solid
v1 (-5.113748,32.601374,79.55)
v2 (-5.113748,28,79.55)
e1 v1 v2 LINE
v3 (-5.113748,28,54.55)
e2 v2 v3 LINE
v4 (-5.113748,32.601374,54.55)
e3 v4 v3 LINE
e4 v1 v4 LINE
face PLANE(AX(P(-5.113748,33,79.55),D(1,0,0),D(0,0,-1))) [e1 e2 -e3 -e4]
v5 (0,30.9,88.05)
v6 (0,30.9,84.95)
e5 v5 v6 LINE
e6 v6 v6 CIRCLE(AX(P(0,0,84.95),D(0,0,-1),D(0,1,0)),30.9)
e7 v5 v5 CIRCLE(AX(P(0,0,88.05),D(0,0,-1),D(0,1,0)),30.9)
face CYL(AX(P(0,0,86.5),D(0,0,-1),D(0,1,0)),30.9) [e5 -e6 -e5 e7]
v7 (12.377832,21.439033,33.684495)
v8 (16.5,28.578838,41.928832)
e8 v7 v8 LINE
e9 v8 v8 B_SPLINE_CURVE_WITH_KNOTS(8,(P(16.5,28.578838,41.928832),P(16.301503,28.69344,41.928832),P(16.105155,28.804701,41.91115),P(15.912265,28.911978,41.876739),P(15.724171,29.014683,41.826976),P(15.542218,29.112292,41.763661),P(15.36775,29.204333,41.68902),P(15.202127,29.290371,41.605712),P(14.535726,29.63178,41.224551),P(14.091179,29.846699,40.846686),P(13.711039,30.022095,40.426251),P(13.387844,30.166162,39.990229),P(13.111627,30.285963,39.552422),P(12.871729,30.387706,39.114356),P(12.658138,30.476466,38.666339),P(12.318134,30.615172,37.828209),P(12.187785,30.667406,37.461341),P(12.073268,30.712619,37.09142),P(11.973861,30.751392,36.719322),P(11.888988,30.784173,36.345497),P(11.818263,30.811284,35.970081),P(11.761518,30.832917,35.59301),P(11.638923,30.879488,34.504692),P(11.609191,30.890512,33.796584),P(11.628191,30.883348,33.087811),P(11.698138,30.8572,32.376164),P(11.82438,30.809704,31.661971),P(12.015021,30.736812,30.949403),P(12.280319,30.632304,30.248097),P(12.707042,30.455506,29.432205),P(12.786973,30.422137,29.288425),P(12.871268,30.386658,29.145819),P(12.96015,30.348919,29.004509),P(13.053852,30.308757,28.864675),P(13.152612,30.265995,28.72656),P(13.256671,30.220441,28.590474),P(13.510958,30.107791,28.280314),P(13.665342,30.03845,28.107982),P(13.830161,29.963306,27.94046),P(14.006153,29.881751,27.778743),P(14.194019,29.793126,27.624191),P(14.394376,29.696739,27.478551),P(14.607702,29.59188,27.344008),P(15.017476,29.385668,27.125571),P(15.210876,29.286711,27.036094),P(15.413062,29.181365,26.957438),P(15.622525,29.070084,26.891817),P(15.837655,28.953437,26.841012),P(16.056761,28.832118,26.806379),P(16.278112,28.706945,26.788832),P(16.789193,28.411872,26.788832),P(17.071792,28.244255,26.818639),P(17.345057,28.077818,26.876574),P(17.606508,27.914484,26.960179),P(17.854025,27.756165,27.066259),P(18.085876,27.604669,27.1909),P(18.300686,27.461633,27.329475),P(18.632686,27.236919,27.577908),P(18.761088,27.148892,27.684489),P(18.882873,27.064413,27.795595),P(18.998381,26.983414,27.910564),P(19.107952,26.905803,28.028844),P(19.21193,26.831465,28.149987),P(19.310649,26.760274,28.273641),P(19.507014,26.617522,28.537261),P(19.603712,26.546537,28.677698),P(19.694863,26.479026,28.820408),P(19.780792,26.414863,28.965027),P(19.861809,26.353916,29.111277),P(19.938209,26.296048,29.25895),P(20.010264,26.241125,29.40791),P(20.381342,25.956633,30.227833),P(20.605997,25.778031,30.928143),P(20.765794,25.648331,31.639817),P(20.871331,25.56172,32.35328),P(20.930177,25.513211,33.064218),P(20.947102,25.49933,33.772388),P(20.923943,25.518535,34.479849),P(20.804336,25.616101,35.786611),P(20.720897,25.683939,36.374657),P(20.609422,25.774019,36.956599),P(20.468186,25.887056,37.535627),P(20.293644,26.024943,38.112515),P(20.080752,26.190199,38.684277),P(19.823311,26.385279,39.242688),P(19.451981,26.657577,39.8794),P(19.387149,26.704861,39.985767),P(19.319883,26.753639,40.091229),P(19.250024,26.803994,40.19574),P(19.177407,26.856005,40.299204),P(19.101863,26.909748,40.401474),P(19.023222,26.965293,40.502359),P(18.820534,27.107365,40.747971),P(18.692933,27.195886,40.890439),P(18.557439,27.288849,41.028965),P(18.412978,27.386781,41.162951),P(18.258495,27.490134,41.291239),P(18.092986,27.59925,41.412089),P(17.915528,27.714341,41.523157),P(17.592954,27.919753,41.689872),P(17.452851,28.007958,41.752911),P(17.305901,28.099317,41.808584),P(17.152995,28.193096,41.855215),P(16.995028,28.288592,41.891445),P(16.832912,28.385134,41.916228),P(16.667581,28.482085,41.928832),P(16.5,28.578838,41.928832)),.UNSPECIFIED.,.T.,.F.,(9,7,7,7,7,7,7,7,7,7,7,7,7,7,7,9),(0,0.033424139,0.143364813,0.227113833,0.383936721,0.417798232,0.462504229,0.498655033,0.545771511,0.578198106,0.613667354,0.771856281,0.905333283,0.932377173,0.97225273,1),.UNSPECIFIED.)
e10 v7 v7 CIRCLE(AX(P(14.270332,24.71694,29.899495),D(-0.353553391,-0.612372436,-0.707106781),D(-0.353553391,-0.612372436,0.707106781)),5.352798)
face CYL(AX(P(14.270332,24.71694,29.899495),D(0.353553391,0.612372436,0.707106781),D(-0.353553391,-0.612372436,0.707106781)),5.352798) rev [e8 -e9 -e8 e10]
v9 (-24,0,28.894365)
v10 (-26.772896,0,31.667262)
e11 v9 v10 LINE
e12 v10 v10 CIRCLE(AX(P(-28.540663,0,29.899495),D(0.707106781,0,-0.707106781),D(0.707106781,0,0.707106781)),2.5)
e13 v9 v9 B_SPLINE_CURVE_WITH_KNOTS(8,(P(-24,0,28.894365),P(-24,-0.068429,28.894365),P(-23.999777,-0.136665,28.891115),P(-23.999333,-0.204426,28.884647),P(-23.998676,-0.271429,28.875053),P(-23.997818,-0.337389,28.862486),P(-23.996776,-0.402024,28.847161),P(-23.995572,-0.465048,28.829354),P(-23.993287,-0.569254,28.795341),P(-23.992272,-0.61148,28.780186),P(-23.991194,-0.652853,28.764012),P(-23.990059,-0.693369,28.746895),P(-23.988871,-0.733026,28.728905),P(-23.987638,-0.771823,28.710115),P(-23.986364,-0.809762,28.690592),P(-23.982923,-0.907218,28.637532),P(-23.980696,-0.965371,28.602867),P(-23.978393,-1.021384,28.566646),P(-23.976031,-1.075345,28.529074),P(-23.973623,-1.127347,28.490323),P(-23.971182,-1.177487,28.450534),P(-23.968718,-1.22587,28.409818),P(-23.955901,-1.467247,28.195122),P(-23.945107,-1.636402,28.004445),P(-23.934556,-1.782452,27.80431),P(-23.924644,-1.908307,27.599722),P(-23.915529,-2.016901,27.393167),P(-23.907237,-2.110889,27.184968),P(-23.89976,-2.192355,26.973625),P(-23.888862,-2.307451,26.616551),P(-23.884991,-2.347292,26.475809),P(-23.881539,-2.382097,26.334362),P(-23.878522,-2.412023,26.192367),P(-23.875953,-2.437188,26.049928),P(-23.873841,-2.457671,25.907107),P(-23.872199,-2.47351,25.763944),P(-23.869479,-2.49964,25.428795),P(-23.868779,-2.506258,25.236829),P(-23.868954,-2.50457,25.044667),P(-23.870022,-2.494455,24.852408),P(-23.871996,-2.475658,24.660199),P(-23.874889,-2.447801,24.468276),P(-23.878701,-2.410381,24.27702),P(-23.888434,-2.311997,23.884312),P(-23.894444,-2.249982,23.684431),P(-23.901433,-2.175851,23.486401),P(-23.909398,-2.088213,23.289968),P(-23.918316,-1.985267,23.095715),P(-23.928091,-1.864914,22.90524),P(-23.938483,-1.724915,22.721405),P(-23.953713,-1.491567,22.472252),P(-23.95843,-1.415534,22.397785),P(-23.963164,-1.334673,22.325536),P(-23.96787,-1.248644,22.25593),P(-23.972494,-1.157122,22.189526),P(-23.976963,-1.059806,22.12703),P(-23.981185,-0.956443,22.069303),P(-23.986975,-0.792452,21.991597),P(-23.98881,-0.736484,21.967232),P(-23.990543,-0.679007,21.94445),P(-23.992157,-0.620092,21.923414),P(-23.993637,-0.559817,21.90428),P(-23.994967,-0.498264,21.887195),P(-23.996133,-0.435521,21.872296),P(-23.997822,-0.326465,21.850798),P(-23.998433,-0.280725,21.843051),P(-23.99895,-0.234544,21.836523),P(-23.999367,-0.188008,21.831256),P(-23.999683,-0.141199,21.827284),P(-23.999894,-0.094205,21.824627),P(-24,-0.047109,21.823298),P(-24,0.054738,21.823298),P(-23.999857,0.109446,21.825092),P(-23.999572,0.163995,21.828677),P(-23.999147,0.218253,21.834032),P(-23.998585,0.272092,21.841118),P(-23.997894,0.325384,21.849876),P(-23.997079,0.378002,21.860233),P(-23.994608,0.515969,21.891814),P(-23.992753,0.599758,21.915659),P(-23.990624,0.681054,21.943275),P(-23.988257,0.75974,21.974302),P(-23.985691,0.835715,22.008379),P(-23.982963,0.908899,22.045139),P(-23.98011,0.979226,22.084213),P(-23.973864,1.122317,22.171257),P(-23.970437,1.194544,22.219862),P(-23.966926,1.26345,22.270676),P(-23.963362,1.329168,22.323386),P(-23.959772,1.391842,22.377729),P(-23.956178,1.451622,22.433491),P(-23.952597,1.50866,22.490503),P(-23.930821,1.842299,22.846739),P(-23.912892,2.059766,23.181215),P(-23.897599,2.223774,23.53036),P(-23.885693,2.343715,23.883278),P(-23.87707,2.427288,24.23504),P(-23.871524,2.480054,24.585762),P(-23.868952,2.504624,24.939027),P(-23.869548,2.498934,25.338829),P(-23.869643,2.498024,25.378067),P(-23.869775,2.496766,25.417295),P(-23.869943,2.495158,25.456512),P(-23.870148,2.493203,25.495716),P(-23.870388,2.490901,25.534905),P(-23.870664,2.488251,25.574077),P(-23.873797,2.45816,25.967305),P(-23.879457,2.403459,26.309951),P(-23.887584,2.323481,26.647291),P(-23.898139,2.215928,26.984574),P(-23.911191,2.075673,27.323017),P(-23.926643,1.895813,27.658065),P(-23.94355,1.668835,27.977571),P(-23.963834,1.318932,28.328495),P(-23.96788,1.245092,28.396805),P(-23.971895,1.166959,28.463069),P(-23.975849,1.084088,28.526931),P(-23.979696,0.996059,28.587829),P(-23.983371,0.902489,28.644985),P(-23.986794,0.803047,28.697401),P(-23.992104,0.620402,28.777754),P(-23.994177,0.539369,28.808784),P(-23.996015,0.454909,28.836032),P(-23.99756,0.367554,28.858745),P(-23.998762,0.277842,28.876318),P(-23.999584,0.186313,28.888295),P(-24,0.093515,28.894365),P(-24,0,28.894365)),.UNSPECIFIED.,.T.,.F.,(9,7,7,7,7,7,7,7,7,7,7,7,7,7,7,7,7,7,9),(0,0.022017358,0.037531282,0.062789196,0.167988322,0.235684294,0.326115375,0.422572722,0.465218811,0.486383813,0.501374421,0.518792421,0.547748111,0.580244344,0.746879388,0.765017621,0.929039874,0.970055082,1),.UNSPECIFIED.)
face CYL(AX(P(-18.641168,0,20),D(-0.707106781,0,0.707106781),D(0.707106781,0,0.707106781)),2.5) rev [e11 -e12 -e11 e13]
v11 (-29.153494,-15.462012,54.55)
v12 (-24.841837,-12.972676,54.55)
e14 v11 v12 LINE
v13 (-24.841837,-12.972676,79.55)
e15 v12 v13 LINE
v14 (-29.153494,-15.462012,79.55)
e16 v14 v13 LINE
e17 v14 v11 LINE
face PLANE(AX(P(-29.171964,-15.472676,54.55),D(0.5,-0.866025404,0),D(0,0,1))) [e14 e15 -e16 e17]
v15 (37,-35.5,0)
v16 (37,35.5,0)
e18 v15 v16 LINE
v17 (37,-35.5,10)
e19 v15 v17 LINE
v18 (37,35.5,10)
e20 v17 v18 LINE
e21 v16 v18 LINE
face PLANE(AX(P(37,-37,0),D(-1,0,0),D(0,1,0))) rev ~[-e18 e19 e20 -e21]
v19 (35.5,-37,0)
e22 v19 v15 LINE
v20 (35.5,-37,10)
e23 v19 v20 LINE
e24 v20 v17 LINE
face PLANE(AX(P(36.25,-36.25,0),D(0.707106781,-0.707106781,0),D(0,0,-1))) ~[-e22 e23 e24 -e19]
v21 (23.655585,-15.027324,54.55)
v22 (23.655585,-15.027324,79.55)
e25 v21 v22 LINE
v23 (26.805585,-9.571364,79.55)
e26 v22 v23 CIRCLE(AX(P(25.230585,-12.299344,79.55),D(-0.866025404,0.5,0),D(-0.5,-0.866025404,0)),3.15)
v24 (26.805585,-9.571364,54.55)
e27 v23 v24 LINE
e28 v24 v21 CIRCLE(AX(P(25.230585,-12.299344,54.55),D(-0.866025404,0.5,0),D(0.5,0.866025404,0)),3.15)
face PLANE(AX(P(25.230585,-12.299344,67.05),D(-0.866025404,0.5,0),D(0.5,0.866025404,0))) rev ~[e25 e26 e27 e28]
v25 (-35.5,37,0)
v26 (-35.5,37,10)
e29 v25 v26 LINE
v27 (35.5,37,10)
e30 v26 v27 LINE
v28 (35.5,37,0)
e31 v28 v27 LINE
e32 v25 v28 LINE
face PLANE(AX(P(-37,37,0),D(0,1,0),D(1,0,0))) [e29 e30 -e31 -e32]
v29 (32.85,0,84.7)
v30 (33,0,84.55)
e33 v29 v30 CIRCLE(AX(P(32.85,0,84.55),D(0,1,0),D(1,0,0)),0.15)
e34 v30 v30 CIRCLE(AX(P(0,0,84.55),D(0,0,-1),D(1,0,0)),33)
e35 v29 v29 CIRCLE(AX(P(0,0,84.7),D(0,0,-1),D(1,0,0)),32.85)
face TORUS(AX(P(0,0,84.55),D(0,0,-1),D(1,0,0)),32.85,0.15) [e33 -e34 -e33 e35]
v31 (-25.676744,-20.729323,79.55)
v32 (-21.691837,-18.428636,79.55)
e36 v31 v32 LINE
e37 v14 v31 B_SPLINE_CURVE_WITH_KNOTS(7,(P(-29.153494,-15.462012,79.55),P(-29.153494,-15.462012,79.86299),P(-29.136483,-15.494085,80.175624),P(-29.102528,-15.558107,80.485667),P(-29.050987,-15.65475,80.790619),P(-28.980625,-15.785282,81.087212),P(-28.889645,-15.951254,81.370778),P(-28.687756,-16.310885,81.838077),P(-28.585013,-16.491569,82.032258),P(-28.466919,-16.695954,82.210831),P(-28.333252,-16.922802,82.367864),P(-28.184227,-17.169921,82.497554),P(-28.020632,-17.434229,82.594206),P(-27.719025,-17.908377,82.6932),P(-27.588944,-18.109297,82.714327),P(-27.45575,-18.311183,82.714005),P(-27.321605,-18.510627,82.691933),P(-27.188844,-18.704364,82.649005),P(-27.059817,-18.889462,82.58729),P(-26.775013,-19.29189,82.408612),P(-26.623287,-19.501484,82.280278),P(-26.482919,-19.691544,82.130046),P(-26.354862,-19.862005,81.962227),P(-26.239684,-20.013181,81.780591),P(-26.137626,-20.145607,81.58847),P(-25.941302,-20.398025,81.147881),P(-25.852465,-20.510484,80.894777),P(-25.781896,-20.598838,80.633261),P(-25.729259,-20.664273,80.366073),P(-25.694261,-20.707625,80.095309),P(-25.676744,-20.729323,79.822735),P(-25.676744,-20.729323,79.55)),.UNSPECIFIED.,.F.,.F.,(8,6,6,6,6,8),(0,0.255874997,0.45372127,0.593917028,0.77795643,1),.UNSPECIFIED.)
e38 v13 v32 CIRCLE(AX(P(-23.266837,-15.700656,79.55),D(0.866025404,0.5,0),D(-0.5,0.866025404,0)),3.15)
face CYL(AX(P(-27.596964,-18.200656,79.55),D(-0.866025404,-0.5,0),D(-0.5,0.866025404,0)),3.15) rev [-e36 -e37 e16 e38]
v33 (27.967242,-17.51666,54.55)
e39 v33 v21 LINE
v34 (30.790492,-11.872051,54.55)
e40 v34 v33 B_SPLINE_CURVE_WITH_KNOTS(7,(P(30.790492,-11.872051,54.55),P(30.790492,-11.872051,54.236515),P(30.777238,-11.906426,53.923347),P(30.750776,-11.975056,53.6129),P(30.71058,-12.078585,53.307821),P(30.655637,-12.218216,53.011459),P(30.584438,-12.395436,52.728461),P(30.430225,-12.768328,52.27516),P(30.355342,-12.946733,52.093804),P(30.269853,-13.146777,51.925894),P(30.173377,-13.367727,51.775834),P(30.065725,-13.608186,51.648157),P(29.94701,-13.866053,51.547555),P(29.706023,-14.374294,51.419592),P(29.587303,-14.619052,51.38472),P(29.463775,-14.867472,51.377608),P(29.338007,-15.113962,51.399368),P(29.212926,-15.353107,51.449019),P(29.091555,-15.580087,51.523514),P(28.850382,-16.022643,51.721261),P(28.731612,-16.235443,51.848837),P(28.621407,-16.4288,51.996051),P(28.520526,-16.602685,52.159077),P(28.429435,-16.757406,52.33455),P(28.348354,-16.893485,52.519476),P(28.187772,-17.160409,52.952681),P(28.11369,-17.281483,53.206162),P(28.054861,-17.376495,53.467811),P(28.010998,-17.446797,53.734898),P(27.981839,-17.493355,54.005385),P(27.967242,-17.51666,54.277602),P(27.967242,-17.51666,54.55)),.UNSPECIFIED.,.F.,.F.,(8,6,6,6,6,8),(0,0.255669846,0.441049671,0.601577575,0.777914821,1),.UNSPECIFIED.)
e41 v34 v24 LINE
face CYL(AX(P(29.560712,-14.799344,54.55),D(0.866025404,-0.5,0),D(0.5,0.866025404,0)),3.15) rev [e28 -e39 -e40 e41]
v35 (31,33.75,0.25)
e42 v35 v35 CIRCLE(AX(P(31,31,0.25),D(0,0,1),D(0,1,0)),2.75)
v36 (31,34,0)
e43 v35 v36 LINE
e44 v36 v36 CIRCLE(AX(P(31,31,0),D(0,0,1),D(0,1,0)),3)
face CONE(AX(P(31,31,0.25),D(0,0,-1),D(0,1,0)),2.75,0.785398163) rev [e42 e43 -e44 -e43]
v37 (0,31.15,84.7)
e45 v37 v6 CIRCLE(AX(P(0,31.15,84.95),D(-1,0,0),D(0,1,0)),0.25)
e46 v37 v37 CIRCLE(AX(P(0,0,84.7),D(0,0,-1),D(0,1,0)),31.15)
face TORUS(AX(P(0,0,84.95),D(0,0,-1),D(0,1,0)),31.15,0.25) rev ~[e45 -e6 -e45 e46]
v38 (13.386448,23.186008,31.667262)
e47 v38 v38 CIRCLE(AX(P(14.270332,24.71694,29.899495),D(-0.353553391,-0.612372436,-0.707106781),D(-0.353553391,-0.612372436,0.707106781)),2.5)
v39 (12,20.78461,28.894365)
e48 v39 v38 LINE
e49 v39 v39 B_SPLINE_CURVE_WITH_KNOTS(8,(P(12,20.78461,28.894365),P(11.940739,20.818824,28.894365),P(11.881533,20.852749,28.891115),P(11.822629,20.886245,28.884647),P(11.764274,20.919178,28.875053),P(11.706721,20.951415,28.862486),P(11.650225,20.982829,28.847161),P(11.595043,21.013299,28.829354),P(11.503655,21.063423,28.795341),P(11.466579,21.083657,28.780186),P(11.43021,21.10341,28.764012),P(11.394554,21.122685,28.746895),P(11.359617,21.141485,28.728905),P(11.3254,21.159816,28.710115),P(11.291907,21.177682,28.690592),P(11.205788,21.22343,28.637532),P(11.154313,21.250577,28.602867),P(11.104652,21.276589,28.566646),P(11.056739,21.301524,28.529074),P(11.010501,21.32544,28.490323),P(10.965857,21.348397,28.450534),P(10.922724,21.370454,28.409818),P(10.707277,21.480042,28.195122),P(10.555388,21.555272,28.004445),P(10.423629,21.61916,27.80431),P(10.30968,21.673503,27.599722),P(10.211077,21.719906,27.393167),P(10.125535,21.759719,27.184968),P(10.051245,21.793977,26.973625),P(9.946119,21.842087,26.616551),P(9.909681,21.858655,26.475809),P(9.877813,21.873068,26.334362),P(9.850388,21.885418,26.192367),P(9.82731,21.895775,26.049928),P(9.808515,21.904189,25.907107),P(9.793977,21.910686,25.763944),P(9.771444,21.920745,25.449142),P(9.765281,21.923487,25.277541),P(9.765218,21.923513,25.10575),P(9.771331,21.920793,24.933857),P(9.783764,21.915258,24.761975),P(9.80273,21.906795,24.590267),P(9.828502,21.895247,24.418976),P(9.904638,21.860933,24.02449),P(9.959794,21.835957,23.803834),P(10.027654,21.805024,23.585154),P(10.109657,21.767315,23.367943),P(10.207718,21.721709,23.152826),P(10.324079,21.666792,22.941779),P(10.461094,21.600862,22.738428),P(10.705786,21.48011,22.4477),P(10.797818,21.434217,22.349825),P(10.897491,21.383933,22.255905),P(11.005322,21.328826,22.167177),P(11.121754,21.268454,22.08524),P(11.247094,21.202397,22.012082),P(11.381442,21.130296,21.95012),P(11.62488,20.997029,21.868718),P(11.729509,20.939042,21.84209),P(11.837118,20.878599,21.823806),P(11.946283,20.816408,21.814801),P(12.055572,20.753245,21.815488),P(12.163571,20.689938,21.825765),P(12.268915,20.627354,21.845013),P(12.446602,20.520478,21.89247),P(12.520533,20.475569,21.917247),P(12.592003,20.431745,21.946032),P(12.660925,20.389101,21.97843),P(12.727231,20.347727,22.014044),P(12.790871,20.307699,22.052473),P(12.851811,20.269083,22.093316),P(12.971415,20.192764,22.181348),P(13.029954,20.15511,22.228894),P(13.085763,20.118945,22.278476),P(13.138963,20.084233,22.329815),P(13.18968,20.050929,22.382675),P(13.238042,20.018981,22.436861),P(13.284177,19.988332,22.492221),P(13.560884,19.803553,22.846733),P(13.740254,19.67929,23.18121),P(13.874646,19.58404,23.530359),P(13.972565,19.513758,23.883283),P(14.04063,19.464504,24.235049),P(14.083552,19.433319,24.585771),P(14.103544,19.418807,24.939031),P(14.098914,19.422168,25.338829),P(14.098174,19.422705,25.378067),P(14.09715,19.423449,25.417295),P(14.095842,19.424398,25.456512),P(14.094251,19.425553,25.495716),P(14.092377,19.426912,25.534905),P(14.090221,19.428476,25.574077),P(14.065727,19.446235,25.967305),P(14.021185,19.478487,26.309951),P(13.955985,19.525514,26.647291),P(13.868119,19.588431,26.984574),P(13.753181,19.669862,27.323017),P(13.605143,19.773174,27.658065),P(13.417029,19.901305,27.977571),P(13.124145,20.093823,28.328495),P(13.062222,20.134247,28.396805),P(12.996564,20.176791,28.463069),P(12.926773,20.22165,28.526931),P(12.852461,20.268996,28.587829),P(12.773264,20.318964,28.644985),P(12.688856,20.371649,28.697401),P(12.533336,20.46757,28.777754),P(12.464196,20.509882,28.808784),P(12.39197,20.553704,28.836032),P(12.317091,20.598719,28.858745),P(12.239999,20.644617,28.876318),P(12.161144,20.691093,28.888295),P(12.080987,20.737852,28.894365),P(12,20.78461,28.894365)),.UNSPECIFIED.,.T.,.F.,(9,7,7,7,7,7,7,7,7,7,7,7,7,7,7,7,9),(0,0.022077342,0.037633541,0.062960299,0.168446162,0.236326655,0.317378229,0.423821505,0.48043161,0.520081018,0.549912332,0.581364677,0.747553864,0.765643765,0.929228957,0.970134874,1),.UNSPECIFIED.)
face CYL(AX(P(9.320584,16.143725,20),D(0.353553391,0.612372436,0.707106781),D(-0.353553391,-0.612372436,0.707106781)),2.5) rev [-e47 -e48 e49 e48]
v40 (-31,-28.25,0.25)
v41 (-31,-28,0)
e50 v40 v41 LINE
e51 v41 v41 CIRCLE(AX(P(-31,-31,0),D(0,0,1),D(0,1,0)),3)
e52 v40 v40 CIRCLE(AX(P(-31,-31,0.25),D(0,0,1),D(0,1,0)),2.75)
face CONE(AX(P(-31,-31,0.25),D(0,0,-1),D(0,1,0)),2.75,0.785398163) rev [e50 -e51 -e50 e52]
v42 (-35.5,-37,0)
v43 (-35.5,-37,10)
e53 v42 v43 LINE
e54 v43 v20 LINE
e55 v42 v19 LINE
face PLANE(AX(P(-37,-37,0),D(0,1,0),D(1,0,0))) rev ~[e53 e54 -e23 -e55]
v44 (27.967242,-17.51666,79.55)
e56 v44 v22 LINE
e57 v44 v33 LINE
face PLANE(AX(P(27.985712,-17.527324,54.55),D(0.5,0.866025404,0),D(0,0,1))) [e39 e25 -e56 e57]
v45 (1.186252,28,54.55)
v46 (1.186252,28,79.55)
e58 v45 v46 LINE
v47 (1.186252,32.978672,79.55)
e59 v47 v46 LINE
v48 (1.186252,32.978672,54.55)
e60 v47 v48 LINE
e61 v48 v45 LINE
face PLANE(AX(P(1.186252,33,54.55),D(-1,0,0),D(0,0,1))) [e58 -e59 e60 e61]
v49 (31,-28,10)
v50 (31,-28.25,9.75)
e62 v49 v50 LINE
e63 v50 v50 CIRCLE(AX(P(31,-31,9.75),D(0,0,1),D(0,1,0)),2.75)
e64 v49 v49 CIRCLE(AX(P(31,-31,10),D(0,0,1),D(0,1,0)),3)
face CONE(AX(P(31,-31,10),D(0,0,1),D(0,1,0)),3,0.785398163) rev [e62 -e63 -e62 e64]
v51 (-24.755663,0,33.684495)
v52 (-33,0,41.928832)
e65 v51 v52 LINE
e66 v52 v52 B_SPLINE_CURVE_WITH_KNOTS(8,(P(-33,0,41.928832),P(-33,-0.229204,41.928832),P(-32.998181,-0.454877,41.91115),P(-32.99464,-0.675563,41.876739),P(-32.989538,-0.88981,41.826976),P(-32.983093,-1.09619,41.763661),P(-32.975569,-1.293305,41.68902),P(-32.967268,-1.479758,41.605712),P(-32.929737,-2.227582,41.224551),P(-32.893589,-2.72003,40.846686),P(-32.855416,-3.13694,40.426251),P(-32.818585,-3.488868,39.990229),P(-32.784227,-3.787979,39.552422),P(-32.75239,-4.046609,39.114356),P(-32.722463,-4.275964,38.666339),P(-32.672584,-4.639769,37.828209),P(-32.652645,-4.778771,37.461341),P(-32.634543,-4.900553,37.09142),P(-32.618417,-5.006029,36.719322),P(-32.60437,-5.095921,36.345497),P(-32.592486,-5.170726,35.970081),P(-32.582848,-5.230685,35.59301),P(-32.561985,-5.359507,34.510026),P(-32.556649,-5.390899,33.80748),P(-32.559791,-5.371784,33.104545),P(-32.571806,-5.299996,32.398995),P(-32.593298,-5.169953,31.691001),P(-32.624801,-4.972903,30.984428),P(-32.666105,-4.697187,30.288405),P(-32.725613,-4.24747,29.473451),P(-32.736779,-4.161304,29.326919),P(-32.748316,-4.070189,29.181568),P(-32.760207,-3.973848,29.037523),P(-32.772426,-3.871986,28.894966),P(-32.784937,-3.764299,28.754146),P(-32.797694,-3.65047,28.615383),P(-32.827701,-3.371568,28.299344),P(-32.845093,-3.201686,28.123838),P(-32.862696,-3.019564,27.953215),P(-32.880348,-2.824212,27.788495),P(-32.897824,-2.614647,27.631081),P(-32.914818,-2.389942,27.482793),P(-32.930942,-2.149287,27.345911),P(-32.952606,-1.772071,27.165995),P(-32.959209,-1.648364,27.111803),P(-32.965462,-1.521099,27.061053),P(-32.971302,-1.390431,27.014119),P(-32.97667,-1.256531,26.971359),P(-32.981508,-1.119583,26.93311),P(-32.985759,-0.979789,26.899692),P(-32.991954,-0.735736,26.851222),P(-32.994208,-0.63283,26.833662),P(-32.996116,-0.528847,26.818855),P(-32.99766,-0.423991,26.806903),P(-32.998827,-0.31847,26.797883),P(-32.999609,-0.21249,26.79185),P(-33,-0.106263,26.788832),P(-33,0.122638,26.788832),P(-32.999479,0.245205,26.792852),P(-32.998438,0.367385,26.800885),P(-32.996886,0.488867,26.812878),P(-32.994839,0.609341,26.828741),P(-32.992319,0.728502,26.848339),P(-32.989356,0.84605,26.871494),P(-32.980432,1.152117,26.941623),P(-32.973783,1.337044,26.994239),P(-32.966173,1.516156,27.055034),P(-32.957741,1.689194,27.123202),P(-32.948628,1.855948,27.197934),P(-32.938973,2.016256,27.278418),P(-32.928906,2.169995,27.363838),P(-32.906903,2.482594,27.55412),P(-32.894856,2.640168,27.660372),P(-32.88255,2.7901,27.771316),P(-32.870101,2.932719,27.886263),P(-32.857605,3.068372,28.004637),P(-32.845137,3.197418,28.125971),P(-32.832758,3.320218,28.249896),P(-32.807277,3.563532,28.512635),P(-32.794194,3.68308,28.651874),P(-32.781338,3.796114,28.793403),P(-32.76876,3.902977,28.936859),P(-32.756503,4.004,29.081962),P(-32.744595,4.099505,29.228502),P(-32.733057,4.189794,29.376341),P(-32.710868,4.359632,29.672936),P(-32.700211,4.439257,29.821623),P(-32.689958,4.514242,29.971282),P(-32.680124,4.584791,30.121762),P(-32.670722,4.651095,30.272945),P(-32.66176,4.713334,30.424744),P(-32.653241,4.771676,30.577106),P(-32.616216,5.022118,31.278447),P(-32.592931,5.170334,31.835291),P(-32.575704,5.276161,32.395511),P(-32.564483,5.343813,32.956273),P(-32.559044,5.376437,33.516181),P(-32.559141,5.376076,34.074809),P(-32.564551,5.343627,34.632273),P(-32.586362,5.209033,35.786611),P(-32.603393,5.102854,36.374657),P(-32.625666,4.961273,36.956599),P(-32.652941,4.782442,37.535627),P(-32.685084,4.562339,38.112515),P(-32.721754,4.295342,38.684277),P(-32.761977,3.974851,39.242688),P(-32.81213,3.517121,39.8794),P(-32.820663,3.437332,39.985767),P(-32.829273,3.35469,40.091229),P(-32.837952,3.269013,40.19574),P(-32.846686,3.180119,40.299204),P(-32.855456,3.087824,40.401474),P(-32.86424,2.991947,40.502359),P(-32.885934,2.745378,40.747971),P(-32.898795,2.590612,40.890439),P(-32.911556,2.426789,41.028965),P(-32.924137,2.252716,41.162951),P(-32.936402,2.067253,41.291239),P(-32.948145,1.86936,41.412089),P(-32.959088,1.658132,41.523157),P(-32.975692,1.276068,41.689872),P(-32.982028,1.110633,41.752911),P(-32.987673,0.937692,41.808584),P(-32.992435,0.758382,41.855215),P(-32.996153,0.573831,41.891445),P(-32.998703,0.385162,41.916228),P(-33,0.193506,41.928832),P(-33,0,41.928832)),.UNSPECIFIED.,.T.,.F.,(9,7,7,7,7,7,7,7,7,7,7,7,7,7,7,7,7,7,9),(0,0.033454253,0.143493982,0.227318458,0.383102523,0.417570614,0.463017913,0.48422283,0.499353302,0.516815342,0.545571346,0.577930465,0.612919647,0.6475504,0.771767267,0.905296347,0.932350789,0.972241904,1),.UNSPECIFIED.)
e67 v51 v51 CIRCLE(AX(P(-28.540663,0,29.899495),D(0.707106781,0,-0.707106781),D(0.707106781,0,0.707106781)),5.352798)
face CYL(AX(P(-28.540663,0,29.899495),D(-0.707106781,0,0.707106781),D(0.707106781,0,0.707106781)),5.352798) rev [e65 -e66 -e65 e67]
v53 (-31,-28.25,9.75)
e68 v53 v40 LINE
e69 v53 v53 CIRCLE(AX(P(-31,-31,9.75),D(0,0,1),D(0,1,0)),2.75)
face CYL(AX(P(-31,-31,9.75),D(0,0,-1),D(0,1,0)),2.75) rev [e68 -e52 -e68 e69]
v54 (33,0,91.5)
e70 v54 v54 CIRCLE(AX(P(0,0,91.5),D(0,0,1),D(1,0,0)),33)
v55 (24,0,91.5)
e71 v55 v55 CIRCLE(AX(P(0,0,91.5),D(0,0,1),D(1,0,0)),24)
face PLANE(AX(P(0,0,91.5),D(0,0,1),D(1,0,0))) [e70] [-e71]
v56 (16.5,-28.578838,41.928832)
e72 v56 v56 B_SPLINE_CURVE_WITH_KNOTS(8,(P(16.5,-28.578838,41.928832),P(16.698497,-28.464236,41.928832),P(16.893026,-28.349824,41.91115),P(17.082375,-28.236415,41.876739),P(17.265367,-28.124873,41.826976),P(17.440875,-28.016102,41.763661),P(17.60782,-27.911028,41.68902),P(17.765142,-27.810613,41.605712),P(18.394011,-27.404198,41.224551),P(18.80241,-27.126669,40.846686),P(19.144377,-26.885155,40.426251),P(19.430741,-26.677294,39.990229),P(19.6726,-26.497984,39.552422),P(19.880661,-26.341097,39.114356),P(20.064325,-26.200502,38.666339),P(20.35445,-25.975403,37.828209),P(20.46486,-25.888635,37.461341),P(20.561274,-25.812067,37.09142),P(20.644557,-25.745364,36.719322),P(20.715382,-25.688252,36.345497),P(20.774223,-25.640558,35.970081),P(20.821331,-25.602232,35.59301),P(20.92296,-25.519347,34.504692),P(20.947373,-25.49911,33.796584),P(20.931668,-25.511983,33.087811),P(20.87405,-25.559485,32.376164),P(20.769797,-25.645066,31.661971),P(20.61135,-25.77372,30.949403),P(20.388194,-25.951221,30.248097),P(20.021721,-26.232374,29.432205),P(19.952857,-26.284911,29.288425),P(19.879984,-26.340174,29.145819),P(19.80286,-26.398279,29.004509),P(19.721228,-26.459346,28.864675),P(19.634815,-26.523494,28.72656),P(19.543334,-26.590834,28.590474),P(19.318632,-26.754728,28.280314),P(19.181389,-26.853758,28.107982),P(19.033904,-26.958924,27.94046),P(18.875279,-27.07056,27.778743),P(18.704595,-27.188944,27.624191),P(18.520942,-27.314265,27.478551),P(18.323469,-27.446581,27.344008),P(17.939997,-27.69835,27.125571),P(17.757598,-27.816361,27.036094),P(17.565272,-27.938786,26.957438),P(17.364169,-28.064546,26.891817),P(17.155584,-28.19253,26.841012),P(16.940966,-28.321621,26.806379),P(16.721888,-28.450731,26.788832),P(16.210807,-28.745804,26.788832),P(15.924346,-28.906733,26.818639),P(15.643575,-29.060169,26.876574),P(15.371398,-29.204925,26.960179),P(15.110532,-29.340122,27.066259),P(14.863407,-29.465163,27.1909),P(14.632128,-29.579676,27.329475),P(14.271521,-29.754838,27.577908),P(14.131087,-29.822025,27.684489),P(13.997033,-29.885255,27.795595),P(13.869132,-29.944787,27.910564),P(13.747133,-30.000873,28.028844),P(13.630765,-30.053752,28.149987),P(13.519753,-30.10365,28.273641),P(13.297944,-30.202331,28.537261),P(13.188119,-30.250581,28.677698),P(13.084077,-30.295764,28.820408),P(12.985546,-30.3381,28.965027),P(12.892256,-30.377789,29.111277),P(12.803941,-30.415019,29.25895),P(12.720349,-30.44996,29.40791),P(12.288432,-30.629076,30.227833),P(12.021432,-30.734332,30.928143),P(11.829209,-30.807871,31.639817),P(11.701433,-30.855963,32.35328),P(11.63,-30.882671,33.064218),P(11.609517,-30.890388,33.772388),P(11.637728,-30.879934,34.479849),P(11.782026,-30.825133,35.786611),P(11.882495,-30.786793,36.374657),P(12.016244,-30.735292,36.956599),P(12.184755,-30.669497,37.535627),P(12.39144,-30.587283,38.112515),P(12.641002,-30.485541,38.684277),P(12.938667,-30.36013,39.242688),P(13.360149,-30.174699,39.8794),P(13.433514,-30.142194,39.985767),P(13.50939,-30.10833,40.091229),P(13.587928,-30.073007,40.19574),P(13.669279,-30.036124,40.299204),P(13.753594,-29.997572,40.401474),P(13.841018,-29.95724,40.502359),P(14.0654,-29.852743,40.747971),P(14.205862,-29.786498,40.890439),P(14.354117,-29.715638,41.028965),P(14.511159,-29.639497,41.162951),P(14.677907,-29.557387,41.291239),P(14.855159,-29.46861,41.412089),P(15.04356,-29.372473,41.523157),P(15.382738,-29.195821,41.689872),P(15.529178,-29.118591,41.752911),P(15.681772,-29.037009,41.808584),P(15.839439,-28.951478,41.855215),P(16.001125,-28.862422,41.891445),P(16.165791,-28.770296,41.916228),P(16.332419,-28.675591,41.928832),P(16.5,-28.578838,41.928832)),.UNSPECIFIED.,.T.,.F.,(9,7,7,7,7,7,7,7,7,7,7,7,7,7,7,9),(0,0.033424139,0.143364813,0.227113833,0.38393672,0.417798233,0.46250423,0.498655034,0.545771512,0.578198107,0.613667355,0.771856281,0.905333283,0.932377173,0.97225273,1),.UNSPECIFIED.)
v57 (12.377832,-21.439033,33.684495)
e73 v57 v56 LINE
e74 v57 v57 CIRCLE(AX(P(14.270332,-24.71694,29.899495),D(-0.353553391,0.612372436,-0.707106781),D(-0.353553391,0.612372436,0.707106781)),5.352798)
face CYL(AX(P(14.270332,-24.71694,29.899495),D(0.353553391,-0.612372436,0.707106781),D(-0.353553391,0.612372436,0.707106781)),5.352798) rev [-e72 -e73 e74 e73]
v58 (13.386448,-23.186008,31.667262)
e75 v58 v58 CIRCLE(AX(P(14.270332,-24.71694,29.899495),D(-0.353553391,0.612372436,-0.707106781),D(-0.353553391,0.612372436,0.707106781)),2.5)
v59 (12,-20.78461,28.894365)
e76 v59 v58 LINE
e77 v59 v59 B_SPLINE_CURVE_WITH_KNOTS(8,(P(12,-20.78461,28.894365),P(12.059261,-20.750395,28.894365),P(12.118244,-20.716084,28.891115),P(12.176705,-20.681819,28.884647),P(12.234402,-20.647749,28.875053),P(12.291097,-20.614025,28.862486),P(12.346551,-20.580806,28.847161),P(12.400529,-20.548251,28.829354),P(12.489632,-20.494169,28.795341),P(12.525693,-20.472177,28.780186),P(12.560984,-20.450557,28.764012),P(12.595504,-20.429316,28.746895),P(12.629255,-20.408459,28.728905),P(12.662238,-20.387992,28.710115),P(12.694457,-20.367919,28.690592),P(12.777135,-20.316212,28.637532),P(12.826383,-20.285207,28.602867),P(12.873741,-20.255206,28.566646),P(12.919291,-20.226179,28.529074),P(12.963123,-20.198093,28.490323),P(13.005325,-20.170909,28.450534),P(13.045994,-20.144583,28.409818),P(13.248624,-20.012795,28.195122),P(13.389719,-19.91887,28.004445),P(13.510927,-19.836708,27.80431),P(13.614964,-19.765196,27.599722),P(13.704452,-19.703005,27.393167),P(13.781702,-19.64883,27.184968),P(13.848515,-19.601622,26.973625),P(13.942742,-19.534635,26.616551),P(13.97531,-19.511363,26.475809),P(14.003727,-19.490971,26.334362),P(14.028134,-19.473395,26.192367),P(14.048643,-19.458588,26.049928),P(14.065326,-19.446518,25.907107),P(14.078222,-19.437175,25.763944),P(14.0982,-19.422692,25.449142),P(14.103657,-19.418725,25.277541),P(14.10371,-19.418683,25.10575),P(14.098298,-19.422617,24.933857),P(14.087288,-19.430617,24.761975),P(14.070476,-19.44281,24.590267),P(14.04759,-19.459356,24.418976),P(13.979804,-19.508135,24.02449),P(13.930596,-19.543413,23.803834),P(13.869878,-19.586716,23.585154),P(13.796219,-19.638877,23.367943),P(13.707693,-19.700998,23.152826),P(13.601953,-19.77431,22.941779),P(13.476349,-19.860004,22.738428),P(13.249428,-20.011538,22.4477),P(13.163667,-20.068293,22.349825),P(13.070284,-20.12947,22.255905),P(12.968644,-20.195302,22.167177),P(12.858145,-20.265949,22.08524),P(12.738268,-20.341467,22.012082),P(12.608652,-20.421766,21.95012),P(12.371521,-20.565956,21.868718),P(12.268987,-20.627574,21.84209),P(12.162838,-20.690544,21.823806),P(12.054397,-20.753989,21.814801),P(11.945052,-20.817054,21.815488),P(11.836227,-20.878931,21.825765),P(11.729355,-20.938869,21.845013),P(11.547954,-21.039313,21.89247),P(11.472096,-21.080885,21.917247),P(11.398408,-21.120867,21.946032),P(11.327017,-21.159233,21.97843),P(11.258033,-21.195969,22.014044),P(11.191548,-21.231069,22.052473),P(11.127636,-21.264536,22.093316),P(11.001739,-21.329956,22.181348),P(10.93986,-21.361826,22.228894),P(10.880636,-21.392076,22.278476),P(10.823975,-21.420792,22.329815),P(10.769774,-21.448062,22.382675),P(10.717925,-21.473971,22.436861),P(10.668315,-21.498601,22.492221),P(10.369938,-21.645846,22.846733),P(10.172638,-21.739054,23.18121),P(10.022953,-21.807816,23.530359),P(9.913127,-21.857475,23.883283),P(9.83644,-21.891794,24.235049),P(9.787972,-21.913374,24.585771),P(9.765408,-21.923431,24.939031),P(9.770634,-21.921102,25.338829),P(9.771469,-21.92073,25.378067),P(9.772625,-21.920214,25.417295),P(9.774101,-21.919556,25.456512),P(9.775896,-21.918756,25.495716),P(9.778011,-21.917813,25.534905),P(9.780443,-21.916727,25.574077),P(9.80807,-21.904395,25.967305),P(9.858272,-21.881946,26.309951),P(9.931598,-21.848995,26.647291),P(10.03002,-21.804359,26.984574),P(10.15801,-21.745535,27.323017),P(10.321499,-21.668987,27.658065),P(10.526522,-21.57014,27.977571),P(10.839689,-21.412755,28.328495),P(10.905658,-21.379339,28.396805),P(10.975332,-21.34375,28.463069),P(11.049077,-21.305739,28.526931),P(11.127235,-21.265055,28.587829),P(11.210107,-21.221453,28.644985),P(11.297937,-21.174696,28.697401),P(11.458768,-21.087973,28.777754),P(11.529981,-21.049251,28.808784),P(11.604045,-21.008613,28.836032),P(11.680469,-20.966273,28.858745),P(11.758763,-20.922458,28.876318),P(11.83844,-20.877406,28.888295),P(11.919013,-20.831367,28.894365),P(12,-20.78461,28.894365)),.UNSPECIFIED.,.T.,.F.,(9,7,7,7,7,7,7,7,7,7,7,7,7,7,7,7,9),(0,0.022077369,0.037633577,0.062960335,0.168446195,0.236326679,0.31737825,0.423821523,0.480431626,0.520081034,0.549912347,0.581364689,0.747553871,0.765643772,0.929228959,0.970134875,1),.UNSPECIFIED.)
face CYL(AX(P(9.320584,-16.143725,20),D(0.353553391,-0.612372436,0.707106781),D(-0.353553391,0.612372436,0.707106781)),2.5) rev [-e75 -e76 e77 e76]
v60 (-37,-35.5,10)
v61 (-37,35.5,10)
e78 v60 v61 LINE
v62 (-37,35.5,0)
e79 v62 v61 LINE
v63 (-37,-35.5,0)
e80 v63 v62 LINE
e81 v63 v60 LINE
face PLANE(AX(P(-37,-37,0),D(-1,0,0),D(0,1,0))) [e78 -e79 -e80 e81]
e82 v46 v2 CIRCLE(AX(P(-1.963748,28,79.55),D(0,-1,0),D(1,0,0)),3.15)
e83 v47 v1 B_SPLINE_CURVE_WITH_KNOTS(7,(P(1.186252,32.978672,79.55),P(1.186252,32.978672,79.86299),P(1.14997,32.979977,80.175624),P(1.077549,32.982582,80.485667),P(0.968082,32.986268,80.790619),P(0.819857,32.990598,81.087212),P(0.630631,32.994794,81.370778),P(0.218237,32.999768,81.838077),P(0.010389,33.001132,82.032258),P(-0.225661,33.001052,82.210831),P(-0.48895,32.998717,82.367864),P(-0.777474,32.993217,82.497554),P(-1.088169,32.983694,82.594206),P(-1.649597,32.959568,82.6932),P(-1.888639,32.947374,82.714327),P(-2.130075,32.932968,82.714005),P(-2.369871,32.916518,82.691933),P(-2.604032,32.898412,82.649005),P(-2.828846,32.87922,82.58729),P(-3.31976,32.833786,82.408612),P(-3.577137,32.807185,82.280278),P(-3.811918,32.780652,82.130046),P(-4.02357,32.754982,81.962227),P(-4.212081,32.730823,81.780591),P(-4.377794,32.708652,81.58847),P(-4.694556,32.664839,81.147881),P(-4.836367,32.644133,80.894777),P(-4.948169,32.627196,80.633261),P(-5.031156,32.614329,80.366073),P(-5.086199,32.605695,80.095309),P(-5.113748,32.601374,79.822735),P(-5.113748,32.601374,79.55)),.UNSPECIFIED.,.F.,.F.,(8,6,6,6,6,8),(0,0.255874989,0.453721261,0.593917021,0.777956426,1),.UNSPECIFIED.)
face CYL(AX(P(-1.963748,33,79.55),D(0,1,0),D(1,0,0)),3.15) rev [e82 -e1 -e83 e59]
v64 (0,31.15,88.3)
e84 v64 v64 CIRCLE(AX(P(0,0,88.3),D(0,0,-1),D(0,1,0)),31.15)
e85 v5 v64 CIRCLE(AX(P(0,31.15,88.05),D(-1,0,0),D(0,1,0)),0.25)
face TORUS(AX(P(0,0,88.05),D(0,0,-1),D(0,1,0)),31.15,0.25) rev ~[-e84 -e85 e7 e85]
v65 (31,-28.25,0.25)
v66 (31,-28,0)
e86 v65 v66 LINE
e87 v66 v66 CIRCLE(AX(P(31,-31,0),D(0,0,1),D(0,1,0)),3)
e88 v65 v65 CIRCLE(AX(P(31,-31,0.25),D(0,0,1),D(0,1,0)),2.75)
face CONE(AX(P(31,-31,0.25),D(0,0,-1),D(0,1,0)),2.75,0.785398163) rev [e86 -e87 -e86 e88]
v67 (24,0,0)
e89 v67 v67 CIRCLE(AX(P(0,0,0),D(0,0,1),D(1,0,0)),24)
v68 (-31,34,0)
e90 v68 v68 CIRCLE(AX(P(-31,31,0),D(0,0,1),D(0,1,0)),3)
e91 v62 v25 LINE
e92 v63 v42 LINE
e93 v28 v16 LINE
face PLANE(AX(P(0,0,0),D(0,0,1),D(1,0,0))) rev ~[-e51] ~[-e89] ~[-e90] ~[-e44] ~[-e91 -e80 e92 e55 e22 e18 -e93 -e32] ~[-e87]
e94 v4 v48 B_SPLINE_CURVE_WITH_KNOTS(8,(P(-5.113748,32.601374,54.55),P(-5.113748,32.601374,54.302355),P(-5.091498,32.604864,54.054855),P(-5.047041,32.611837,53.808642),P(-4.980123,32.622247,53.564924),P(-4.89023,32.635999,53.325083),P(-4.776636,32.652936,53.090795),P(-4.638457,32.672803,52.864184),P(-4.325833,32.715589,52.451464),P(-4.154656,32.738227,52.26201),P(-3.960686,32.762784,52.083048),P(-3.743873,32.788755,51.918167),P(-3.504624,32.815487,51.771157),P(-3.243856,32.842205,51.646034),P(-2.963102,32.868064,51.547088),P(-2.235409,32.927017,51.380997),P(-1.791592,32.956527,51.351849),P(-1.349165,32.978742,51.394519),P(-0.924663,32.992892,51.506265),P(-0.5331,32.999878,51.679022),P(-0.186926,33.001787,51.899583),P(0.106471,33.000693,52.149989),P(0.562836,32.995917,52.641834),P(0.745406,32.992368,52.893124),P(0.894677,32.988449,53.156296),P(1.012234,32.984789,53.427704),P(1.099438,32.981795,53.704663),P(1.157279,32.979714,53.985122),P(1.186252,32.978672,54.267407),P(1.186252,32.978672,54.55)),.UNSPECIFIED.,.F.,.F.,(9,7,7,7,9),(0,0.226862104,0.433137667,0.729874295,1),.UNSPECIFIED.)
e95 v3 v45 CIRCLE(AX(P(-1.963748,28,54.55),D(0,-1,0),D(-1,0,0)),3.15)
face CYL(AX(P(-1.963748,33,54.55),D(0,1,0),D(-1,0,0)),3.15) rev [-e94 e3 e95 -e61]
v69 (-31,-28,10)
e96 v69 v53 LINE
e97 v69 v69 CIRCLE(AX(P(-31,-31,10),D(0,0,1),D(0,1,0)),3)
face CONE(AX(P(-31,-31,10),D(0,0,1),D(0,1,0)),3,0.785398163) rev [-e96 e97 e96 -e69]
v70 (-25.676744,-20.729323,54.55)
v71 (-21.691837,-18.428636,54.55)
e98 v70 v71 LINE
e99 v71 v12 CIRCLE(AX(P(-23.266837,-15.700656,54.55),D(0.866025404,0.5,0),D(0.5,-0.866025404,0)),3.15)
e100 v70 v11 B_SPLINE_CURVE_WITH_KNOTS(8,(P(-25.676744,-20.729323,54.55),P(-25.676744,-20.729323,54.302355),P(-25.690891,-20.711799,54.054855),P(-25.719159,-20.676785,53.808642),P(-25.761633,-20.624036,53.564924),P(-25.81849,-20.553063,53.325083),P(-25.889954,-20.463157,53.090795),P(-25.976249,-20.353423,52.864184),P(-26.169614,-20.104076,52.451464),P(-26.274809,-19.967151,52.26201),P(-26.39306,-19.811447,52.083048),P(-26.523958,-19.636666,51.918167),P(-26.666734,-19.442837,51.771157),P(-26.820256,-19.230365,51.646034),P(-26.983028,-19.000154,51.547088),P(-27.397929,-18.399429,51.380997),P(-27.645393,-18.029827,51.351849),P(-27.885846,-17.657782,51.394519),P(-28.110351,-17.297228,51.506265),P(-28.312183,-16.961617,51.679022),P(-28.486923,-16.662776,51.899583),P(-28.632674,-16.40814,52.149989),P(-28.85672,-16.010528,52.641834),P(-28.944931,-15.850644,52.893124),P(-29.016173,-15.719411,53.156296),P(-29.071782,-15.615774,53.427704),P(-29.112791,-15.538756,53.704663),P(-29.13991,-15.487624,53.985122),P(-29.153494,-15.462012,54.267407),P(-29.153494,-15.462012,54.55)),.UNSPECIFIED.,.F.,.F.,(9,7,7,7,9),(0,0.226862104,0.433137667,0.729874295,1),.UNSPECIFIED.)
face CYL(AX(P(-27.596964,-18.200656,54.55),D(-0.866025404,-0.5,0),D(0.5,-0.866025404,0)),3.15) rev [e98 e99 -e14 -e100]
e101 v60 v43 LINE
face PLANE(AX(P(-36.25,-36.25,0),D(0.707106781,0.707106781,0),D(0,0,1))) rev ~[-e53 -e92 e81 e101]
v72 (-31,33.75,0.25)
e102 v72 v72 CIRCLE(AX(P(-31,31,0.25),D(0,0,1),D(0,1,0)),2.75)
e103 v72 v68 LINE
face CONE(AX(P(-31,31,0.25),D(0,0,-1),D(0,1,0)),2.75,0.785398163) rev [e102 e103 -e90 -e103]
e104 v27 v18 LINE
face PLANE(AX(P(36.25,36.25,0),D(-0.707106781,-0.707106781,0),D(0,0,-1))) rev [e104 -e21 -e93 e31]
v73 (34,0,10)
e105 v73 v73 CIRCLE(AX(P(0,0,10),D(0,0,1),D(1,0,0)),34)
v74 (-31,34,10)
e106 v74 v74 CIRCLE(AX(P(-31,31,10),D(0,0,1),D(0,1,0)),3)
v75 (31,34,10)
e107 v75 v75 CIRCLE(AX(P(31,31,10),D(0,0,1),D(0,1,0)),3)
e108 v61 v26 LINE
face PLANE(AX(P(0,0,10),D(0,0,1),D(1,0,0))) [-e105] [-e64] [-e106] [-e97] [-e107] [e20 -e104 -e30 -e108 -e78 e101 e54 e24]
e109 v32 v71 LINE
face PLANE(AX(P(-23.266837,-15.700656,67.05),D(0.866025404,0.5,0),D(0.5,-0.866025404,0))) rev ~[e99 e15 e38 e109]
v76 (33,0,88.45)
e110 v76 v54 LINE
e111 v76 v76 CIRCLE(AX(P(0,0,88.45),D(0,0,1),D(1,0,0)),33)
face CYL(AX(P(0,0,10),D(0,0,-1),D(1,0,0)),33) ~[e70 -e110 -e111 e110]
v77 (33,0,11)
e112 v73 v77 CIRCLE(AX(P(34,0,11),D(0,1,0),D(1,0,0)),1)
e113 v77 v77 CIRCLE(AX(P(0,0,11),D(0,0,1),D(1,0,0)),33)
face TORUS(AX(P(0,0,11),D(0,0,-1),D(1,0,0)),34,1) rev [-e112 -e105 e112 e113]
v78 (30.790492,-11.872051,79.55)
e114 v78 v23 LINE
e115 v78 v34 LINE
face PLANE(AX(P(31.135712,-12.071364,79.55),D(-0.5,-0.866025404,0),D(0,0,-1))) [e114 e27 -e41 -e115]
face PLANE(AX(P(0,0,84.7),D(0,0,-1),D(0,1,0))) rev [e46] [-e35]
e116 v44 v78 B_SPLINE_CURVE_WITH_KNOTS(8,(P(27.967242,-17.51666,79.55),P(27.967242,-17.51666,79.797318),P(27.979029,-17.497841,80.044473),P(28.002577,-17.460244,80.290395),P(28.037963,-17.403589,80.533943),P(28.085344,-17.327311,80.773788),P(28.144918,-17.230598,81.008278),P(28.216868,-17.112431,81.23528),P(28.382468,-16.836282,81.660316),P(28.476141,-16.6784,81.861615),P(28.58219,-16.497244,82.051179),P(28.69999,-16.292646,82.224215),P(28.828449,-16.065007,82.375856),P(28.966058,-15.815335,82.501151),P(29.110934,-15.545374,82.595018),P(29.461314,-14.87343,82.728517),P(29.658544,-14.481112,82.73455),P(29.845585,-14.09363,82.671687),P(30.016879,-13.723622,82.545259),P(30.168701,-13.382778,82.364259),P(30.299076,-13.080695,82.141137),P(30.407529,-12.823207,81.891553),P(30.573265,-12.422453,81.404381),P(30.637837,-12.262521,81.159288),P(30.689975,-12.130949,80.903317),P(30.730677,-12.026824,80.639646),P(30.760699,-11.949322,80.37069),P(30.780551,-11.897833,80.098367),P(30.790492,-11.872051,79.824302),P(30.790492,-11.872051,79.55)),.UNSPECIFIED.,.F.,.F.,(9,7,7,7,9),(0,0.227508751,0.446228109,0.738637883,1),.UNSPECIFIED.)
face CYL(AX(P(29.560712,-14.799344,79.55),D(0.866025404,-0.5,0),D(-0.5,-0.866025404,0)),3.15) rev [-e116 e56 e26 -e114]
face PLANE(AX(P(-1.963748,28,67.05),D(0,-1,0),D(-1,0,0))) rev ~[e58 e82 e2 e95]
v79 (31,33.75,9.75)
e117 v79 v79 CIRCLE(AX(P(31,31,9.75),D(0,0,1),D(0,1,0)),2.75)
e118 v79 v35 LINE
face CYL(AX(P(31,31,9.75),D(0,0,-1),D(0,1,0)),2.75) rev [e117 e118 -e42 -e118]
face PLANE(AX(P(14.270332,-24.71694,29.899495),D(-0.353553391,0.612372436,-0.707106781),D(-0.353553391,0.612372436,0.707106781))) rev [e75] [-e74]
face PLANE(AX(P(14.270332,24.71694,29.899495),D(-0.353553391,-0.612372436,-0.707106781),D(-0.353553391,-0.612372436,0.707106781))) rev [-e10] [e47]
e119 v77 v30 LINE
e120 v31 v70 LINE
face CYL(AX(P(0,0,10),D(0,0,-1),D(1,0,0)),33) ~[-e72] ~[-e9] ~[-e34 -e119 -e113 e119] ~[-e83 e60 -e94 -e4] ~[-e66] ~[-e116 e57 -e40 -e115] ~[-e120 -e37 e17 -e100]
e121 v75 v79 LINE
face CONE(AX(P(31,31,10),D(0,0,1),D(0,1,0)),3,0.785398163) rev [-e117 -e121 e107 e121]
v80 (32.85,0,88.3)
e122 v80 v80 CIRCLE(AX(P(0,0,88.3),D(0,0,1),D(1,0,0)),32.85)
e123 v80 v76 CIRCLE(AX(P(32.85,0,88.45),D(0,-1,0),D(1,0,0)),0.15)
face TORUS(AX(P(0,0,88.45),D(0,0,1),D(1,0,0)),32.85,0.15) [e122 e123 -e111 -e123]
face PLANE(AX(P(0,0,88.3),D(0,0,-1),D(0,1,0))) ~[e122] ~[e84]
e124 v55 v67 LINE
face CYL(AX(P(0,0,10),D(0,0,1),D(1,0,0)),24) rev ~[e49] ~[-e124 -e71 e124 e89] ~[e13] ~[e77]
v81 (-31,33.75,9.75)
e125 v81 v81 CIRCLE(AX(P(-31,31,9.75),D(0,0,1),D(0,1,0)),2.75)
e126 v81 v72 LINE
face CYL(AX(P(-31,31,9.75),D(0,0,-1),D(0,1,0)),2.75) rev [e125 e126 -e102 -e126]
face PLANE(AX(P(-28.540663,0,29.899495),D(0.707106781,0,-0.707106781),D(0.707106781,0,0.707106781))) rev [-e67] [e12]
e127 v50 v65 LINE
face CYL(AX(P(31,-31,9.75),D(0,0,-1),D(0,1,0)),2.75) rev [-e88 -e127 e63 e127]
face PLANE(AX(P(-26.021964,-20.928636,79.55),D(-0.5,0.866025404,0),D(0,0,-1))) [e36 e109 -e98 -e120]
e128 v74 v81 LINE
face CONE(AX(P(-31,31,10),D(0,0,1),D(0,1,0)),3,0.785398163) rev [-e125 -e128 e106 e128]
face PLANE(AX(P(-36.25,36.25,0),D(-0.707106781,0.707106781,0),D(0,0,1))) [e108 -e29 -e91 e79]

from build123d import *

# Parameters (mm, degrees)
ESBO_O1_W                        = 74
ESBO_O1_H                        = 74
RESSALTO_EXTRUS_O1_DEPTH         = 10
ESBO_O2_R                        = 33
ESBO_O2_R_2                      = 24
RESSALTO_EXTRUS_O2_DEPTH         = 81.5
ESBO_O3_R                        = 24
CORTE_EXTRUS_O1_DEPTH            = 11
FURO_COM_FOLGA_DE_M51_AT_2_COUNT = 2
FURO_COM_FOLGA_DE_M51_AT_2_PITCH = 62
FURO_COM_FOLGA_DE_M51_AT_3_COUNT = 2
FURO_COM_FOLGA_DE_M51_AT_3_PITCH = 87.681240867
FURO_COM_FOLGA_DE_M51_AT_4_COUNT = 2
FURO_COM_FOLGA_DE_M51_AT_4_PITCH = 62
ESBO_O12_W                       = 3.6
ESBO_O12_H                       = 2.1
FILETE1_R                        = 0.25
FILETE2_R                        = 0.15
PADR_OCIRCULAR2_COUNT            = 3
CHANFRO1_SIZE                    = 1.5
FILETE3_R                        = 1
CORTE_EXTRUS_O3_DEPTH            = 5
PADR_OCIRCULAR3_COUNT            = 3


with BuildPart() as part:
    # Esboço1 → Ressalto-extrusão1 (new body)
    with BuildSketch(Plane.XY):
        Rectangle(ESBO_O1_W, ESBO_O1_H)
    extrude(amount=RESSALTO_EXTRUS_O1_DEPTH)

    # Esboço2 → Ressalto-extrusão2 (add)
    with BuildSketch(Plane.XY.offset(10)):
        Circle(ESBO_O2_R)
        Circle(ESBO_O2_R_2, mode=Mode.SUBTRACT)
    extrude(amount=RESSALTO_EXTRUS_O2_DEPTH)

    # Esboço3 → Corte-extrusão1 (cut, through all)
    with BuildSketch(Plane.XY.offset(10)):
        Circle(ESBO_O3_R)
    extrude(amount=-CORTE_EXTRUS_O1_DEPTH, mode=Mode.SUBTRACT)

    # Esboço6 → Furo com folga de M51 (revolve, cut)
    with BuildSketch(Plane(origin=(31, 31, 0), x_dir=(0, 1, 0), z_dir=(1, 0, 0))):
        Polygon((0, 0), (0, 10), (3, 10), (2.75, 9.75), (2.75, 0.25), (3, 0), align=None)
    furo_com_folga_de_m51 = revolve(axis=Axis((31, 31, -6.35), (0, 0, 1)), mode=Mode.SUBTRACT)

    # Furo com folga de M51 at 2: Furo com folga de M51 ×2
    with Locations(*[(0, -i * FURO_COM_FOLGA_DE_M51_AT_2_PITCH, 0) for i in range(1, FURO_COM_FOLGA_DE_M51_AT_2_COUNT)]):
        add(furo_com_folga_de_m51, mode=Mode.SUBTRACT)

    # Furo com folga de M51 at 3: Furo com folga de M51 ×2
    with Locations(*[Vector(-0.707106781, -0.707106781, 0) * (i * FURO_COM_FOLGA_DE_M51_AT_3_PITCH) for i in range(1, FURO_COM_FOLGA_DE_M51_AT_3_COUNT)]):
        add(furo_com_folga_de_m51, mode=Mode.SUBTRACT)

    # Furo com folga de M51 at 4: Furo com folga de M51 ×2
    with Locations(*[(-i * FURO_COM_FOLGA_DE_M51_AT_4_PITCH, 0, 0) for i in range(1, FURO_COM_FOLGA_DE_M51_AT_4_COUNT)]):
        add(furo_com_folga_de_m51, mode=Mode.SUBTRACT)

    # Esboço12 → Corte-Revolução1 (revolve, cut)
    with BuildSketch(Plane(origin=(0, 0, 0), x_dir=(0, 0, -1), z_dir=(1, 0, 0))):
        with Locations((-86.5, 31.95)):
            Rectangle(ESBO_O12_W, ESBO_O12_H)
    revolve(axis=Axis((0, 0, 91.5), (0, 0, -1)), mode=Mode.SUBTRACT)

    # Filete1
    filete1_edges = [part.edges().sort_by_distance(p)[0] for p in [
        (0, -30.9, 88.3),
        (0, -30.9, 84.7),
    ]]
    fillet(filete1_edges, radius=FILETE1_R)

    # Filete2
    filete2_edges = [part.edges().sort_by_distance(p)[0] for p in [
        (-33, 0, 88.3),
        (-33, 0, 84.7),
    ]]
    fillet(filete2_edges, radius=FILETE2_R)

    # Esboço14 → Corte-Revolução2 (revolve, cut)
    with BuildSketch(Plane(origin=(0, 0, 0), x_dir=(1, 0, 0), z_dir=(0, 1, 0))):
        Polygon((-33.49041083, -34.849242405), (-18.641168425, -20), (-16.873401472, -21.767766953), (-26.772896409, -31.66726189), (-24.755663361, -33.684494937), (-33.49041083, -42.419242405), align=None)
    corte_revolu_o2 = revolve(axis=Axis((-33.49041083, 0, 34.849242405), (0.707106781, 0, -0.707106781)), mode=Mode.SUBTRACT)

    # PadrãoCircular2: Corte-Revolução2 ×3 about axis
    padr_ocircular2_axis = Axis((0, 0, 0), (0, 0, 1))
    for i in range(1, PADR_OCIRCULAR2_COUNT):
        add(corte_revolu_o2.rotate(padr_ocircular2_axis, i * 360 / PADR_OCIRCULAR2_COUNT), mode=Mode.SUBTRACT)

    # Chanfro1
    chanfro1_edges = [part.edges().sort_by_distance(p)[0] for p in [
        (-37, 37, 5),
        (37, 37, 5),
        (37, -37, 5),
        (-37, -37, 5),
    ]]
    chamfer(chanfro1_edges, length=CHANFRO1_SIZE)

    # Filete3
    filete3_edges = [part.edges().sort_by_distance(p)[0] for p in [
        (-33, 0, 10),
    ]]
    fillet(filete3_edges, radius=FILETE3_R)

    # Esboço15 → Corte-extrusão3 (cut)
    with BuildSketch(Plane(origin=(0, 33, 0), x_dir=(1, 0, 0), z_dir=(0, 1, 0))):
        with BuildLine():
            Line((-5.113748287, -79.55), (-5.113748287, -54.55))
            ThreePointArc((-5.113748287, -54.55), (-1.963748287, -51.4), (1.186251713, -54.55))
            Line((1.186251713, -54.55), (1.186251713, -79.55))
            ThreePointArc((1.186251713, -79.55), (-1.963748287, -82.7), (-5.113748287, -79.55))
        make_face()
    corte_extrus_o3 = extrude(amount=-CORTE_EXTRUS_O3_DEPTH, mode=Mode.SUBTRACT)

    # PadrãoCircular3: Corte-extrusão3 ×3 about axis
    padr_ocircular3_axis = Axis((0, 0, 0), (0, 0, 1))
    for i in range(1, PADR_OCIRCULAR3_COUNT):
        add(corte_extrus_o3.rotate(padr_ocircular3_axis, i * 360 / PADR_OCIRCULAR3_COUNT), mode=Mode.SUBTRACT)


solid = part.part
